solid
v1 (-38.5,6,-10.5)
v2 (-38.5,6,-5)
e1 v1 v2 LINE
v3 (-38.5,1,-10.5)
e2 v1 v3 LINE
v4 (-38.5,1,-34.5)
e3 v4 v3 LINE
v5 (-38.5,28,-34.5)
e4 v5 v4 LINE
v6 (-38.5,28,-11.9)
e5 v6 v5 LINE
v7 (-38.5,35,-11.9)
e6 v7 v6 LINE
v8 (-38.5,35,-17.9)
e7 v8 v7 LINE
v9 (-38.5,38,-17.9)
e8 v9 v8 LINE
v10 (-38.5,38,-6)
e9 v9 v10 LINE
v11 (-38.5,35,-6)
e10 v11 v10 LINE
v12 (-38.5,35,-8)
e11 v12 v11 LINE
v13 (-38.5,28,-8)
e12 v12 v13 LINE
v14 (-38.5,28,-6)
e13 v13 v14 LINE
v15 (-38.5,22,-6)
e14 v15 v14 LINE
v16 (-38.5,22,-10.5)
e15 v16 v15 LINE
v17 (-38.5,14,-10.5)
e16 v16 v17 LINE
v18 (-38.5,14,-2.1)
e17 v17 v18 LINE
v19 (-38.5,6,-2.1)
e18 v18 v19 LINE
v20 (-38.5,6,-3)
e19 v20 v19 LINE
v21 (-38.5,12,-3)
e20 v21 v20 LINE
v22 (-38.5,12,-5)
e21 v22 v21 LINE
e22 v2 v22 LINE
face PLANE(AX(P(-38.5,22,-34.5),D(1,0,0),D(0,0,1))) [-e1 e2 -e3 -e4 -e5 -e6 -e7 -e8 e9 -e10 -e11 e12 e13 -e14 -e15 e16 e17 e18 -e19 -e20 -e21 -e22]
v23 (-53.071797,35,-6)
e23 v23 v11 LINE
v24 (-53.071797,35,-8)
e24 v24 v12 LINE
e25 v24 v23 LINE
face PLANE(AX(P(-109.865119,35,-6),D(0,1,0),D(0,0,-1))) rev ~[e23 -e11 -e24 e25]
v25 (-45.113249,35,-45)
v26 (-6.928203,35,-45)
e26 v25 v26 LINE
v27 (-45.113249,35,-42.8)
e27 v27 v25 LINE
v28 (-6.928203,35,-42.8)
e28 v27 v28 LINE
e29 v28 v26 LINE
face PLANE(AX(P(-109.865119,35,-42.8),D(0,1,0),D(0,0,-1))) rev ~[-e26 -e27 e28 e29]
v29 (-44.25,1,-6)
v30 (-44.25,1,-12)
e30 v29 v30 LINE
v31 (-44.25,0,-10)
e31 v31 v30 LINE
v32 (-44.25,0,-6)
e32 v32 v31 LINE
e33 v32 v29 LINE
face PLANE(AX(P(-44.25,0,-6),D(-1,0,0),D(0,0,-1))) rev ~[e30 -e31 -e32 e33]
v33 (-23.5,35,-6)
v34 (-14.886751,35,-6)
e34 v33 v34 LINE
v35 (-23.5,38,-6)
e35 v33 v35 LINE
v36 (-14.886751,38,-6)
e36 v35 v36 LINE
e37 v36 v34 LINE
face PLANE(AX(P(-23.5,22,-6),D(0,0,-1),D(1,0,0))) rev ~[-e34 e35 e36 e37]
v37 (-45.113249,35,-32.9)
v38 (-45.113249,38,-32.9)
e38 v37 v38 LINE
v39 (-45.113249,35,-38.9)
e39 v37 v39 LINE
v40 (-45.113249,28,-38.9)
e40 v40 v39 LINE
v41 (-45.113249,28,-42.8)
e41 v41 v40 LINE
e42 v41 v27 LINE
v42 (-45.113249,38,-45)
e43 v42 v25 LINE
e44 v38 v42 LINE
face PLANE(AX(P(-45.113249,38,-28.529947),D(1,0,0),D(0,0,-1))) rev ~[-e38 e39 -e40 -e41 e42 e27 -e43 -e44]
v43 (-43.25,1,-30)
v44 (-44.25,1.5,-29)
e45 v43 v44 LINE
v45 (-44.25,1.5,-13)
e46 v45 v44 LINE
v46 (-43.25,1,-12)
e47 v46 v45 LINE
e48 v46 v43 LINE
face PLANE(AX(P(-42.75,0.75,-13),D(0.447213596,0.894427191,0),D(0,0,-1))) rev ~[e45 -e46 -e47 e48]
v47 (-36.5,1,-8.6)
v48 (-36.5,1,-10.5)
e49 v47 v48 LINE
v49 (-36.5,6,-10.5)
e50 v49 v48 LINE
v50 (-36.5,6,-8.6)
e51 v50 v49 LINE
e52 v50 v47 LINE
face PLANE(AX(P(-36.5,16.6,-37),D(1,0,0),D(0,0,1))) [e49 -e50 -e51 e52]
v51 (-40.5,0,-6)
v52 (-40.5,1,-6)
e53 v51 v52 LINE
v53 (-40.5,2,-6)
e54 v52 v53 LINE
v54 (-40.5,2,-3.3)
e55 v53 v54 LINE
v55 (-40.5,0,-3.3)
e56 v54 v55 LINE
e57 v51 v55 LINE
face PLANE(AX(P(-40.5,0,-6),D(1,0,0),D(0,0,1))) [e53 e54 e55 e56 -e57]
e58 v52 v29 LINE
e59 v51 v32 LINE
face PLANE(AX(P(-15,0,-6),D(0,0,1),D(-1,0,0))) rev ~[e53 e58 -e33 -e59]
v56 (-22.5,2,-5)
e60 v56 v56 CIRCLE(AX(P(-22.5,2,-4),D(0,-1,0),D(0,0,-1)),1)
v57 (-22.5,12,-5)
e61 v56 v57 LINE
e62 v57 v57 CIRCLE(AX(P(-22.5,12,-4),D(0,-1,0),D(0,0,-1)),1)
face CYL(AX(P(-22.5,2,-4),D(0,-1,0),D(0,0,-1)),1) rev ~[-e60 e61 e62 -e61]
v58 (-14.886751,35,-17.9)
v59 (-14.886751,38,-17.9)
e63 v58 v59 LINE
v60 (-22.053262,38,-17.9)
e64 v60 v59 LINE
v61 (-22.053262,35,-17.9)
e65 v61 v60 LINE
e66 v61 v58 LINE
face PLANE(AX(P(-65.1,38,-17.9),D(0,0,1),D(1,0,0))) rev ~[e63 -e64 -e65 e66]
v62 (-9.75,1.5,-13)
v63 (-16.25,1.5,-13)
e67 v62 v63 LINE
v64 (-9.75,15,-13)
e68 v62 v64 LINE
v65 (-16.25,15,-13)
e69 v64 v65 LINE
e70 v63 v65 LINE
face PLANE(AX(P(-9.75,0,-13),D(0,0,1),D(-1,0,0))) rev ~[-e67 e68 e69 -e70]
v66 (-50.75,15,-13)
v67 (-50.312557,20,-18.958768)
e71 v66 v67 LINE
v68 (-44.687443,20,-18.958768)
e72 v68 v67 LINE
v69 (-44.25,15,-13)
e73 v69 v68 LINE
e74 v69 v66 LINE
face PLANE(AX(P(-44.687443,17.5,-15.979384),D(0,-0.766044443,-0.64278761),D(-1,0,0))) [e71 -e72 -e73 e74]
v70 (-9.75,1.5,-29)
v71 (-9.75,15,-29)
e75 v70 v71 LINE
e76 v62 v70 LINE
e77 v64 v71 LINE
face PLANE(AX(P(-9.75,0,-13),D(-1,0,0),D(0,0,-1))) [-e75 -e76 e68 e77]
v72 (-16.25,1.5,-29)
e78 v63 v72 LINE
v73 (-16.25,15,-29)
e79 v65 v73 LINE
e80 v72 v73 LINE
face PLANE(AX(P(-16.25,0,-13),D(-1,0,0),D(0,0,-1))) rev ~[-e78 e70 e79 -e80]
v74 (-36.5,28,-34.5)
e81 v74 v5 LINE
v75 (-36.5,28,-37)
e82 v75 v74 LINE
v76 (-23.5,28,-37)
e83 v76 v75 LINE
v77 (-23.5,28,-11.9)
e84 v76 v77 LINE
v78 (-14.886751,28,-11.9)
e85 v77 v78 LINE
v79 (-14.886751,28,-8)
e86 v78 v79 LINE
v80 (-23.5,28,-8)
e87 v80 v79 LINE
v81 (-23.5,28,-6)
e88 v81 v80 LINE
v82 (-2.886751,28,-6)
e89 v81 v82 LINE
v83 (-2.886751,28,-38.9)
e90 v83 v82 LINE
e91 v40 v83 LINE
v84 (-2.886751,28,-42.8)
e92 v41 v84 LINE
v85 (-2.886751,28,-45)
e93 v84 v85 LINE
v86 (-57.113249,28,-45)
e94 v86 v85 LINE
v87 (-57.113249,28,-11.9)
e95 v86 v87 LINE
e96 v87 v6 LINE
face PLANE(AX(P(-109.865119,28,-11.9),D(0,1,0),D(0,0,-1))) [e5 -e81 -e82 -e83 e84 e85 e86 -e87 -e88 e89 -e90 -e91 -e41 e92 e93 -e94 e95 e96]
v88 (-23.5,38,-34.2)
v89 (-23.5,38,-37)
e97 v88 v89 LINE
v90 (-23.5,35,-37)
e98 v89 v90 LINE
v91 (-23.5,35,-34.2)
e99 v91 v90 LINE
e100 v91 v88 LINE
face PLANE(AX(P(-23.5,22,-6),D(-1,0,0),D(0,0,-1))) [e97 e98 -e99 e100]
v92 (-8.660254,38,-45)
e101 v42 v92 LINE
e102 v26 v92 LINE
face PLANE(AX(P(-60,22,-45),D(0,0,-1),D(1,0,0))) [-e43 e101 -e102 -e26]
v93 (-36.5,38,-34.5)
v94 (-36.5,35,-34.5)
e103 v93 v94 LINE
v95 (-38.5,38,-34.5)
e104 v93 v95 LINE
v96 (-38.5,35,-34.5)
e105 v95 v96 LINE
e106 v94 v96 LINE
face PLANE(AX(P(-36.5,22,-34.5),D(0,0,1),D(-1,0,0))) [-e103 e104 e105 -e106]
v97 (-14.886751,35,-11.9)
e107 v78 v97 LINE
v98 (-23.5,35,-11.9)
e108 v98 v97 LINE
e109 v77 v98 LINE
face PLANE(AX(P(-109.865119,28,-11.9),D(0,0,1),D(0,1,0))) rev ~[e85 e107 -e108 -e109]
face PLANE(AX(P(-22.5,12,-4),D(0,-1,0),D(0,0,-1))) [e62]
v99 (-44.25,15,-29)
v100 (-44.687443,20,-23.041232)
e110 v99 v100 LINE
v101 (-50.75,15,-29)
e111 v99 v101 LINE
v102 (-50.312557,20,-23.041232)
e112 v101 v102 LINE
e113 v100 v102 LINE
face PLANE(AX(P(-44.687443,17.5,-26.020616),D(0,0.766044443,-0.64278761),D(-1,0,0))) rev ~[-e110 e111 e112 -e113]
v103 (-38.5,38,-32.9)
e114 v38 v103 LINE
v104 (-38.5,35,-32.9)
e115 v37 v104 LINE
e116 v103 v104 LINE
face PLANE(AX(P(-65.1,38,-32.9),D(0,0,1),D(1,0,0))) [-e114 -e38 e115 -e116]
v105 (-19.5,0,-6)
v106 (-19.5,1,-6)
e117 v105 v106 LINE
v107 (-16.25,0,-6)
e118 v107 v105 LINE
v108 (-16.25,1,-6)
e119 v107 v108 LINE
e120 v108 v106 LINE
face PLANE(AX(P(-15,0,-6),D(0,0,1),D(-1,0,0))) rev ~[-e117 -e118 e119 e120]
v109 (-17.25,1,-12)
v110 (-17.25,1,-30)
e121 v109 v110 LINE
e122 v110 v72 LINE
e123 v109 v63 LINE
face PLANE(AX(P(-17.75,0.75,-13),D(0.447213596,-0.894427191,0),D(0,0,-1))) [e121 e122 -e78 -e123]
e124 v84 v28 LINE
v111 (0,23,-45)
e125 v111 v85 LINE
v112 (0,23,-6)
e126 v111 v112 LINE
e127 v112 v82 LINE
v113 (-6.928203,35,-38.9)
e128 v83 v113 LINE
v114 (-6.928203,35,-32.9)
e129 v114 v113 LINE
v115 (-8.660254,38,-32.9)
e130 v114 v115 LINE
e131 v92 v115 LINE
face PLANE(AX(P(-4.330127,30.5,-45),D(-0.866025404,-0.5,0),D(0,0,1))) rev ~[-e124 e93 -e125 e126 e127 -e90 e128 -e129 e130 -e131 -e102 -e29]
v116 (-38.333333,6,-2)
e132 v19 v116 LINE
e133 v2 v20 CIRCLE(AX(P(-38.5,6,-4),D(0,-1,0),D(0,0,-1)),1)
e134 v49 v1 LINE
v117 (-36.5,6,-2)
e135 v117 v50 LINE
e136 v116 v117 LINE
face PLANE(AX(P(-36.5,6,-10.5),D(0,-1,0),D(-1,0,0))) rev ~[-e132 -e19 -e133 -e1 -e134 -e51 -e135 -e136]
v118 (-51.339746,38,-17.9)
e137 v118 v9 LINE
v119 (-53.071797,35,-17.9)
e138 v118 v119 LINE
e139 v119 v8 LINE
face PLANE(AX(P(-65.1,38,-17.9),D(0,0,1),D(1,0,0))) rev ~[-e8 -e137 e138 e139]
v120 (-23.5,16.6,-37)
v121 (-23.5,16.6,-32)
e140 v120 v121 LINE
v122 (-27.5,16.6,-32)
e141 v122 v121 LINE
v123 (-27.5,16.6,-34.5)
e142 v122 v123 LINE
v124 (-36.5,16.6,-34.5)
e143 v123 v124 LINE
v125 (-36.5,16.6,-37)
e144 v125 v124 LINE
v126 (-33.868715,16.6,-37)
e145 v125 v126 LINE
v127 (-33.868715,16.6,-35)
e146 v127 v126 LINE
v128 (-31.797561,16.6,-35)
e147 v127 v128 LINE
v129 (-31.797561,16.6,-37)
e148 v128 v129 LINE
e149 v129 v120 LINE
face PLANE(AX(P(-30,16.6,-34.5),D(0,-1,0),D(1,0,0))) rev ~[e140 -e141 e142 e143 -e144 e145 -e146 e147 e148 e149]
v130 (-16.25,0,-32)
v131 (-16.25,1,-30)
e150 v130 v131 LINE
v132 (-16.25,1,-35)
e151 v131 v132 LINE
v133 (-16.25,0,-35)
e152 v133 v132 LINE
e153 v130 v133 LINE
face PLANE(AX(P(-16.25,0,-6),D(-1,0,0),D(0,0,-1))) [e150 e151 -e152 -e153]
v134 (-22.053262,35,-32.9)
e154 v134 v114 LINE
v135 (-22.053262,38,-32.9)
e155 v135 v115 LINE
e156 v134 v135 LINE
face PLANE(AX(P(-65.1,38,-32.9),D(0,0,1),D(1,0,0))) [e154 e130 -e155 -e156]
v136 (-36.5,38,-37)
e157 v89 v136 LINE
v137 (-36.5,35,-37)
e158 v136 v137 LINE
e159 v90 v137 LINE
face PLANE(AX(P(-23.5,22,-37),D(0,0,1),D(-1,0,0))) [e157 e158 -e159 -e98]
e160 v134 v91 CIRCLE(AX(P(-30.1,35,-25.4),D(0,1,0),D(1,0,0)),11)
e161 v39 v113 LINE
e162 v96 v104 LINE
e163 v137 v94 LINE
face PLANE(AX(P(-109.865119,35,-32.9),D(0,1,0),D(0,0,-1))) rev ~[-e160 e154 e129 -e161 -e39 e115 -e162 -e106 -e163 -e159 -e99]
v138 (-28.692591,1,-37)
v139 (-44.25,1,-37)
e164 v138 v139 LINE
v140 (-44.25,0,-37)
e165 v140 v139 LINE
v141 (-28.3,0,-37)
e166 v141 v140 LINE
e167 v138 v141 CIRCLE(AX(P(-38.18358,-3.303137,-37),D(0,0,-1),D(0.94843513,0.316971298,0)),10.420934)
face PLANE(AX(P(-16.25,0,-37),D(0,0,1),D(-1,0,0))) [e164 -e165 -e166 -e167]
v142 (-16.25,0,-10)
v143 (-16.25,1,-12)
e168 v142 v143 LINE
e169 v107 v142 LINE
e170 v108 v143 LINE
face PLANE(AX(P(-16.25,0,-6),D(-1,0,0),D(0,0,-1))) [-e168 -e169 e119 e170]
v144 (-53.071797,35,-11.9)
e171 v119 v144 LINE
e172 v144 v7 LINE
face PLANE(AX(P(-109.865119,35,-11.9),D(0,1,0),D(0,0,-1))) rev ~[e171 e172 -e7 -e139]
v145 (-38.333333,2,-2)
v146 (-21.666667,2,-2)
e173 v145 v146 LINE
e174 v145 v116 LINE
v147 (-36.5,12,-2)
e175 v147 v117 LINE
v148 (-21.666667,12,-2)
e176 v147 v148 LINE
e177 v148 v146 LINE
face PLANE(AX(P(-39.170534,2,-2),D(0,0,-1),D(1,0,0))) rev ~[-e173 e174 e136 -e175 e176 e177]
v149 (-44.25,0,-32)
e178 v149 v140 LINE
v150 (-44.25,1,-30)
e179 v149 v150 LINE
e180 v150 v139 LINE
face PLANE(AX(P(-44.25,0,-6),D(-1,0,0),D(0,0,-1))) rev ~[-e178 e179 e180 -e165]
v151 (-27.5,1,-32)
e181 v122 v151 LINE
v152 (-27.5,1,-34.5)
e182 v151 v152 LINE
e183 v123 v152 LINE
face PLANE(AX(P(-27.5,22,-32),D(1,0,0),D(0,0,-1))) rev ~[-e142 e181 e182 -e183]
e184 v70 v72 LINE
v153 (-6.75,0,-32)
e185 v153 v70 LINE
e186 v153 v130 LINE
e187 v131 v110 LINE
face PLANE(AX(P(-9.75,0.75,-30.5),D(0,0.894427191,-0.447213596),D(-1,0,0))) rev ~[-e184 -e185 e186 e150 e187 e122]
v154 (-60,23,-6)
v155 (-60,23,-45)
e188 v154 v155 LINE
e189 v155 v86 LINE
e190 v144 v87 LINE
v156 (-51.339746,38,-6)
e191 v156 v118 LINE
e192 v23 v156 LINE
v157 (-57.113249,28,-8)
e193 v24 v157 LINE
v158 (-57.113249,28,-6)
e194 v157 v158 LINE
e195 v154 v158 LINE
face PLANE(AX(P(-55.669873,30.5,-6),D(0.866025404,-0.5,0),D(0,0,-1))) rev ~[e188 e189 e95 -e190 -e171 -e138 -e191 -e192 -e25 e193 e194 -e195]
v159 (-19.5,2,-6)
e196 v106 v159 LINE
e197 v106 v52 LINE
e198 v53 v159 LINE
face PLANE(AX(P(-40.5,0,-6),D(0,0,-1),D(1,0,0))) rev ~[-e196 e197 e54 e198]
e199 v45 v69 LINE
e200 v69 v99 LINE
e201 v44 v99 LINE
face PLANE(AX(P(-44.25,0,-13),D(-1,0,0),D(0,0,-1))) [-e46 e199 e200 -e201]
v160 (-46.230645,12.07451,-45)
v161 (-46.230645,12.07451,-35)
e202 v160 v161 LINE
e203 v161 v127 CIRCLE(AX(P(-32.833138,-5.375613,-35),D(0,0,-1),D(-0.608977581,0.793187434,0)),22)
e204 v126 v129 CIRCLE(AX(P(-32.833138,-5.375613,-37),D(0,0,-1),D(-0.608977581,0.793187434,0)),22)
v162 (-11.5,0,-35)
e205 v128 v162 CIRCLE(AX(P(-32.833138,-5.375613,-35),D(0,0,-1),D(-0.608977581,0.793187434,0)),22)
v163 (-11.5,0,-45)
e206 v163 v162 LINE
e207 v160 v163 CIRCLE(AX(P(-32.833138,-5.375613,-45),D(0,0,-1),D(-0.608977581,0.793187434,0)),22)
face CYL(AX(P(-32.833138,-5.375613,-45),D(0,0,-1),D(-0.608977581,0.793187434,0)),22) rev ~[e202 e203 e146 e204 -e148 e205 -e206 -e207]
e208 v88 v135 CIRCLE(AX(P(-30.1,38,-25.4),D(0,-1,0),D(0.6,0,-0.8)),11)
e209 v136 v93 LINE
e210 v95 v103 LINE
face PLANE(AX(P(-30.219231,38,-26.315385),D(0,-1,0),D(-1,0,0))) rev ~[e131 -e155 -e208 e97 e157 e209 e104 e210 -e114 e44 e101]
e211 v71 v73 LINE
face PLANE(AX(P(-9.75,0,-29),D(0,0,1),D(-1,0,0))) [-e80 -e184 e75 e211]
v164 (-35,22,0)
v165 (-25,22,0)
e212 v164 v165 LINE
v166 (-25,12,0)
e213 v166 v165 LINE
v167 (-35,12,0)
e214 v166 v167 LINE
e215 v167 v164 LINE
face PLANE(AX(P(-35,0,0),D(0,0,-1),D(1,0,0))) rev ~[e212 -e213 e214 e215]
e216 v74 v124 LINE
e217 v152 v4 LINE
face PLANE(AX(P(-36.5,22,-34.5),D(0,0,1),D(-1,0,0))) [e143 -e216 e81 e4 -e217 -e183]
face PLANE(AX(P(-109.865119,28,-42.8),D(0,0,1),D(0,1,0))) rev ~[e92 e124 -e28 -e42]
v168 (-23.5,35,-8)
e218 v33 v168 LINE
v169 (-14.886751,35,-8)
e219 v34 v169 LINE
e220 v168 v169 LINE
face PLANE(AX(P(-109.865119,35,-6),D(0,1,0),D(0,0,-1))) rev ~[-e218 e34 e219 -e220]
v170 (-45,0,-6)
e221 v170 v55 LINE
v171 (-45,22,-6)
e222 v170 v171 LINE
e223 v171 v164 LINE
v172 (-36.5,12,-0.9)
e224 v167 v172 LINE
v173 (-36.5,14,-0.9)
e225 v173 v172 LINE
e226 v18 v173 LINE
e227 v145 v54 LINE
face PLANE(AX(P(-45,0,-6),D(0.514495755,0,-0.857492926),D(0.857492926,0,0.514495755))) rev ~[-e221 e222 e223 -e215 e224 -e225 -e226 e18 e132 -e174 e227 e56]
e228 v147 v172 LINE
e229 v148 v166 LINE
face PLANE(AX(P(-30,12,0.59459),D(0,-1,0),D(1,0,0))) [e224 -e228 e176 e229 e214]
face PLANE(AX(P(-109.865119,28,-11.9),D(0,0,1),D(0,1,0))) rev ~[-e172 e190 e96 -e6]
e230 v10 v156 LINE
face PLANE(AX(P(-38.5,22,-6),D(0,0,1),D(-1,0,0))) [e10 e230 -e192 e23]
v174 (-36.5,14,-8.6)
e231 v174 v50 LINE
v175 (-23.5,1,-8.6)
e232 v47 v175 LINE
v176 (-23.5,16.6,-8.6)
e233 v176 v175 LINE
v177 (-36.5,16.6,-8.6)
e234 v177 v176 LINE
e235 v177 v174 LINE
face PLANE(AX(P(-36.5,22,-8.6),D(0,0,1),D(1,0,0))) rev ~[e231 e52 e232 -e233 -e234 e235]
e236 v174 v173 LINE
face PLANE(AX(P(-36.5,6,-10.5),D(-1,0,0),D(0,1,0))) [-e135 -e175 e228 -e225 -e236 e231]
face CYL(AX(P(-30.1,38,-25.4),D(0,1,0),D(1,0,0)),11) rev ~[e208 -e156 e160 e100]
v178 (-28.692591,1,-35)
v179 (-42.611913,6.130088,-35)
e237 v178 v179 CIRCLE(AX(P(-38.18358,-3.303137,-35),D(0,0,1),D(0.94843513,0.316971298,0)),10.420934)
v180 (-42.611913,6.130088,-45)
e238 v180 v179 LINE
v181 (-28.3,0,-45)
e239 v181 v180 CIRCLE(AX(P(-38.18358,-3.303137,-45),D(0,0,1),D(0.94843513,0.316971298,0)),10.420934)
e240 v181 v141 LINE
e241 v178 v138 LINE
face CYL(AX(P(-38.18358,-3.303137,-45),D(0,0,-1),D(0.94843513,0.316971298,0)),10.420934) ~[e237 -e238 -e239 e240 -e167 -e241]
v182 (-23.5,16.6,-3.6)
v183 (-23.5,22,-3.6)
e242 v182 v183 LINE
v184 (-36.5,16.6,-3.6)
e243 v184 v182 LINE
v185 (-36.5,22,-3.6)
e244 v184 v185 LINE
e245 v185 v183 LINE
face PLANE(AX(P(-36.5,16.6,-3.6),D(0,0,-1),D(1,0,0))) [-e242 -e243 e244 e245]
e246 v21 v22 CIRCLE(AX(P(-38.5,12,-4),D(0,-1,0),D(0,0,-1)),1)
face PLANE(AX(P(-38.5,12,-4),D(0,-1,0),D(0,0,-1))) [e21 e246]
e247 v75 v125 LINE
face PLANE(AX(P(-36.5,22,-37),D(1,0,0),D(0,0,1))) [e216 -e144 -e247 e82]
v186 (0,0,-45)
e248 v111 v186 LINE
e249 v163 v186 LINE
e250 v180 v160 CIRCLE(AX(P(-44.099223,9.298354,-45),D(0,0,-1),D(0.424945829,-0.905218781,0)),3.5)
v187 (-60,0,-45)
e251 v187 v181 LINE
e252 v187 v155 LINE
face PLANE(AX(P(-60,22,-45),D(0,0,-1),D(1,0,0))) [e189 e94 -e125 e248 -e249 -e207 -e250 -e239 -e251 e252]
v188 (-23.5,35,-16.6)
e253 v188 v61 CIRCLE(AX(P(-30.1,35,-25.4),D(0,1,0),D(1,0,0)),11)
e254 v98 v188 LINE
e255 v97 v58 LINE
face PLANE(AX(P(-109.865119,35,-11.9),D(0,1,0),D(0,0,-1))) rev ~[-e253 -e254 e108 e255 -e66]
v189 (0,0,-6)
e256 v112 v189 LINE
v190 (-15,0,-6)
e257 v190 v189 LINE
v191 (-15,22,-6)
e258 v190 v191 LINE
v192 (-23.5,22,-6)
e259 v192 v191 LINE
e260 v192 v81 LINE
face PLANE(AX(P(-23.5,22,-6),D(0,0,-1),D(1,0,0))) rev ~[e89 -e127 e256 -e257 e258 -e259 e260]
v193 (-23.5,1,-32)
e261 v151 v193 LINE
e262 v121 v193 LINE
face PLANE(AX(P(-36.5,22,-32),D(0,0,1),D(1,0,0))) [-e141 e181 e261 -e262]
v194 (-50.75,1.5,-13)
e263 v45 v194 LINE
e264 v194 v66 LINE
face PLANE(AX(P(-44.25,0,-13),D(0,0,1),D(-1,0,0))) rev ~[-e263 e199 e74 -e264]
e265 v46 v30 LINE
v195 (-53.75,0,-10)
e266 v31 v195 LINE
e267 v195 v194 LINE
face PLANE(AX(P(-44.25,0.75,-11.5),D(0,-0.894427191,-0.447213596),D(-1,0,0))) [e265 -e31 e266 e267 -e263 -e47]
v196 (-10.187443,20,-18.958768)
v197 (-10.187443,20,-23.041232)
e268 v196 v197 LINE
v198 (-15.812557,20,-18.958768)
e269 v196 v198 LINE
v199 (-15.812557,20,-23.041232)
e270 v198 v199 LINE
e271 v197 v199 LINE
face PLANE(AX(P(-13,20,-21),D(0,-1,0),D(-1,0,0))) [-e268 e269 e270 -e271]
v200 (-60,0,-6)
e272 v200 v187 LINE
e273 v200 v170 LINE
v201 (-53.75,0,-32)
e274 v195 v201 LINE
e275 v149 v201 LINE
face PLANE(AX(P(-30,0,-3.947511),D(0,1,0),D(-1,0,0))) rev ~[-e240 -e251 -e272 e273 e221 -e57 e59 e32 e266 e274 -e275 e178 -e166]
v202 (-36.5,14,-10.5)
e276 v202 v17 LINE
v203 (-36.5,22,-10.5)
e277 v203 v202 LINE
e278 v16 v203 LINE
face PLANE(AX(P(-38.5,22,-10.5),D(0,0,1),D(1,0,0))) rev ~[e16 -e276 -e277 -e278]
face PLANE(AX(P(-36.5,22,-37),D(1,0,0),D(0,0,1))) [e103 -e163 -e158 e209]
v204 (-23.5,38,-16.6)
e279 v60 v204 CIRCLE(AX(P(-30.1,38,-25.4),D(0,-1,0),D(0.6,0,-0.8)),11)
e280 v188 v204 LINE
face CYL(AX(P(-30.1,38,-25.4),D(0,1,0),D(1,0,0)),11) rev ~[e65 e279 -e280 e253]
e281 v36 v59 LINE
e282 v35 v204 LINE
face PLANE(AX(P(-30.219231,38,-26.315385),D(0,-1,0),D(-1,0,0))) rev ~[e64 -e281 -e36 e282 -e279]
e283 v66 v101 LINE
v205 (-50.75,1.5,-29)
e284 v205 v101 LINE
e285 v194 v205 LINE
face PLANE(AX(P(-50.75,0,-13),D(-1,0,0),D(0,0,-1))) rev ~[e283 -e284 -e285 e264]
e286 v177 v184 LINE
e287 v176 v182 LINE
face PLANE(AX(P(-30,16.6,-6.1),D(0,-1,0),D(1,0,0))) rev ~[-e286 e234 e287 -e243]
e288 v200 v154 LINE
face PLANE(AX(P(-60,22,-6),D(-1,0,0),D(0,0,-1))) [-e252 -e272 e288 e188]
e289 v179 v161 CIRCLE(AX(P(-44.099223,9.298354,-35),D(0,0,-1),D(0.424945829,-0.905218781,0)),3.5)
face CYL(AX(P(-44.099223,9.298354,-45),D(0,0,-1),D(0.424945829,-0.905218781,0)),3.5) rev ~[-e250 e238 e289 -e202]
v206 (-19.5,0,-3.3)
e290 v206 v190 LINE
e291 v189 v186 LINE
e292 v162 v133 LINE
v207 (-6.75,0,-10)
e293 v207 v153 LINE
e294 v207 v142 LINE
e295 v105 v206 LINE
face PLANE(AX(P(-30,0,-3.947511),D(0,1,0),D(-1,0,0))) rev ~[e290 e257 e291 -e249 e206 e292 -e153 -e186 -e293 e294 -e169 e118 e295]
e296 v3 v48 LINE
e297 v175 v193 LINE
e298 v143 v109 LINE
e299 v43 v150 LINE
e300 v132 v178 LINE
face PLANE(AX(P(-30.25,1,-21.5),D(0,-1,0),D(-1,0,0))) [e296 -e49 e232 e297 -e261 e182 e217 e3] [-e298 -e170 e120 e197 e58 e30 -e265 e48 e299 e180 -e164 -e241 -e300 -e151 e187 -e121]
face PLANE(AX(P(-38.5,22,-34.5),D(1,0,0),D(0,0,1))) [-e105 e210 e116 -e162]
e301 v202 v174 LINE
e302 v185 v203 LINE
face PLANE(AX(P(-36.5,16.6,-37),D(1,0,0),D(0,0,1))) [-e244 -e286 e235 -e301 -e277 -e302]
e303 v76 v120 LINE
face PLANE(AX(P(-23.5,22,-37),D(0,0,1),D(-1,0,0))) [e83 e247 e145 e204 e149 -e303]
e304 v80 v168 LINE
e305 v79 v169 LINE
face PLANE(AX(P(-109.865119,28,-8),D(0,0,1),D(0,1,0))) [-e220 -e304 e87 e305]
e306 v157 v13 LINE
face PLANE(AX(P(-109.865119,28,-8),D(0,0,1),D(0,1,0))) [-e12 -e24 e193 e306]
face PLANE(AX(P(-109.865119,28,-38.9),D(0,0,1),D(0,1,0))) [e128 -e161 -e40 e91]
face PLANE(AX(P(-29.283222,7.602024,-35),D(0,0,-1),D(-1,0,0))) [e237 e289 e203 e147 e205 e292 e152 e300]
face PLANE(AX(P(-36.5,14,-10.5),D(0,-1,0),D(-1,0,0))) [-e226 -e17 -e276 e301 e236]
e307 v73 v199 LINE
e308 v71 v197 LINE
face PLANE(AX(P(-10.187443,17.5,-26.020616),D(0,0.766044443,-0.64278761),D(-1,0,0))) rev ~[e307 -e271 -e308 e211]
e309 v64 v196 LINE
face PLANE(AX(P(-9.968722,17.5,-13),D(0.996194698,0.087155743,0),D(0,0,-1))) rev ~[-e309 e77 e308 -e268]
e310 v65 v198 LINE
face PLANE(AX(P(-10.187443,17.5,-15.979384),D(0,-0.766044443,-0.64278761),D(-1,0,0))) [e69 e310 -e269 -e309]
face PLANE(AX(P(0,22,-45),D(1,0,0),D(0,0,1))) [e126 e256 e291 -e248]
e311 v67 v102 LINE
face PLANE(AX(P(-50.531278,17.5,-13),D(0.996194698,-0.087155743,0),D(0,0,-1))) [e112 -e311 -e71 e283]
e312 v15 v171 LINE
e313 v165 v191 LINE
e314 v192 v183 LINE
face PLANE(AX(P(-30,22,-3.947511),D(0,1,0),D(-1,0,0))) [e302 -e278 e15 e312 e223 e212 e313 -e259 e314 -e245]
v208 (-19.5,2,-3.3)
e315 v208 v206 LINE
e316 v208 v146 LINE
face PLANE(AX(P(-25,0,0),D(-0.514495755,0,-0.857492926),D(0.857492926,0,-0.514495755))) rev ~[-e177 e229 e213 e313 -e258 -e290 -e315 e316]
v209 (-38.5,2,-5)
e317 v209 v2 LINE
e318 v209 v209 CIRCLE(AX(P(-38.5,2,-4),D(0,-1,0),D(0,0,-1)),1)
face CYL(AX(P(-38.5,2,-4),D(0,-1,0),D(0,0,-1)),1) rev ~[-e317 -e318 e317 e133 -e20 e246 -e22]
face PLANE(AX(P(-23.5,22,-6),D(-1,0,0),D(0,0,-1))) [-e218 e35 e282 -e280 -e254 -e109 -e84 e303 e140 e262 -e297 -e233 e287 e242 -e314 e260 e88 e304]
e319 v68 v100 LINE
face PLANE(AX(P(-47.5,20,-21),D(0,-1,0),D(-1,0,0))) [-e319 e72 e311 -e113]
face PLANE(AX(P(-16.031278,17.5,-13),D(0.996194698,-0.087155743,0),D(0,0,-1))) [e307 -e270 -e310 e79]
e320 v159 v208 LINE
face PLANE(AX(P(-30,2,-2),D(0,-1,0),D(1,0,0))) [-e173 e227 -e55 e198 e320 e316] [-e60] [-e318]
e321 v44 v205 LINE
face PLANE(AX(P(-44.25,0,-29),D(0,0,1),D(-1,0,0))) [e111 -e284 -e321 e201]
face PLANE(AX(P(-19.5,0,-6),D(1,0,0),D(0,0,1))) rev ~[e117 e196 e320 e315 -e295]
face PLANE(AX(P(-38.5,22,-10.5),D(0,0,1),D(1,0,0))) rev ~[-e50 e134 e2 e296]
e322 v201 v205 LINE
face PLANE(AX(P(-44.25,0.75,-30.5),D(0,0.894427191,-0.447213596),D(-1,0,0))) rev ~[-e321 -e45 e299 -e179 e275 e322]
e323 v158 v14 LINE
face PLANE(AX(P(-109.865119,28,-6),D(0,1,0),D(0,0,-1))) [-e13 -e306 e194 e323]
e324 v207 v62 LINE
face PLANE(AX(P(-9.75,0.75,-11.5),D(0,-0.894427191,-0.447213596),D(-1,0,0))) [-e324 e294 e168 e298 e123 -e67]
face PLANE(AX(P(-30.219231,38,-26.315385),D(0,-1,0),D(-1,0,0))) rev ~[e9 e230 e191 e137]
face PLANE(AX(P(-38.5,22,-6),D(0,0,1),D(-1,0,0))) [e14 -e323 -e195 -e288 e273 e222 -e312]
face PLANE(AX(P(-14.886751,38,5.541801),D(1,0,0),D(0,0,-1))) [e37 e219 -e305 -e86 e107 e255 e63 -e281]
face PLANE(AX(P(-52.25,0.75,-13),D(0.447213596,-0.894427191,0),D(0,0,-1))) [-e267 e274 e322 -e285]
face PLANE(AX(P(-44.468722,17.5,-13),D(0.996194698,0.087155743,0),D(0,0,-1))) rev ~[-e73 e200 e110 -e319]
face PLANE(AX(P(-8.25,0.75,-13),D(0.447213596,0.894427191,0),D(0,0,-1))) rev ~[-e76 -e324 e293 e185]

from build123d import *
from OCP.BRepFilletAPI import BRepFilletAPI_MakeChamfer

# Parameters (mm, degrees)
SKETCH1_W                = 60
SKETCH1_H                = 45
BOSS_EXTRUDE1_DEPTH      = 30
SKETCH2_W                = 6.5
SKETCH2_H                = 16
CUT_EXTRUDE1_DEPTH       = 20
CHAMFER1_SIZE            = 5
CHAMFER1_SIZE2           = 0.437443318
CHAMFER2_SIZE            = 5
CHAMFER2_SIZE2           = 5.958767963
CUT_EXTRUDE2_DEPTH       = 10
CHAMFER3_SIZE            = 3
CHAMFER3_SIZE2           = 1.5
CUT_EXTRUDE3_REACH       = 82.777
SKETCH6_W                = 28
SKETCH6_H                = 31
CUT_EXTRUDE4_DEPTH       = 1
BOSS_EXTRUDE2_DEPTH      = 22
CUT_EXTRUDE5_REACH       = 80.16
SKETCH7_W                = 13
SKETCH7_H                = 23.4
CUT_EXTRUDE6_REACH       = 95.485
CUT_EXTRUDE6_START       = -15.6
SKETCH8_W                = 13
SKETCH8_H                = 5
CUT_EXTRUDE7_REACH       = 80.16
BOSS_EXTRUDE3_DEPTH      = 16
CHAMFER6_SIZE            = 15
CHAMFER6_SIZE2           = 8.660254038
SKETCH14_R               = 11
CUT_EXTRUDE8_DEPTH       = 10
SKETCH15_W               = 70
SKETCH15_H               = 15
CUT_EXTRUDE9_DEPTH       = 10
CUT_EXTRUDE10_DEPTH      = 71.3651192
CUT_EXTRUDE10_DEPTH_BACK = 71.3651192
SKETCH16_W               = 6
SKETCH16_H               = 7
SKETCH16_W_2             = 2
CUT_EXTRUDE11_DEPTH      = 71.3651192
CUT_EXTRUDE11_DEPTH_BACK = 71.3651192
SKETCH17_W               = 6
SKETCH17_H               = 7
SKETCH17_W_2             = 2.2
SKETCH18_W               = 21
SKETCH18_H               = 8
CUT_EXTRUDE12_DEPTH      = 2
SKETCH19_R               = 1
SKETCH19_W               = 18.34106835
SKETCH19_H               = 5.189180314
CUT_EXTRUDE13_DEPTH      = 10
CUT_EXTRUDE14_REACH      = 80.957
SKETCH20_W               = 2
SKETCH20_H               = 8
CUT_EXTRUDE15_REACH      = 86.077
SKETCH21_W               = 16.800854114
SKETCH21_H               = 23.16859679
SKETCH21_W_2             = 25.313746617
SKETCH21_H_2             = 27.258932471


with BuildPart() as part:
    # Sketch1 → Boss-Extrude1 (new body)
    with BuildSketch(Plane(origin=(0, 0, 0), x_dir=(1, 0, 0), z_dir=(0, 1, 0))):
        with Locations((-30, 22.5)):
            Rectangle(SKETCH1_W, SKETCH1_H)
    extrude(amount=BOSS_EXTRUDE1_DEPTH)

    # Sketch2 → Cut-Extrude1 (cut)
    with BuildSketch(Plane(origin=(0, 0, 0), x_dir=(-1, 0, 0), z_dir=(0, -1, 0))):
        with Locations((47.5, 21)):
            Rectangle(SKETCH2_W, SKETCH2_H)
        with Locations((13, 21)):
            Rectangle(SKETCH2_W, SKETCH2_H)
    extrude(amount=-CUT_EXTRUDE1_DEPTH, mode=Mode.SUBTRACT)

    # Chamfer1: one chamfer whose edges measure the first distance from different faces: ONE call of the kernel's chamfer builder (chamfer() names one face for all edges)
    chamfer1_edges_1 = [part.edges().sort_by_distance(p)[0] for p in [
        (-50.75, 20, -21),
    ]]
    chamfer1_side_1 = [part.faces().sort_by_distance(p)[0] for p in [
        (-50.75, 10, -21),
    ]]
    chamfer1_edges_2 = [part.edges().sort_by_distance(p)[0] for p in [
        (-44.25, 20, -21),
    ]]
    chamfer1_side_2 = [part.faces().sort_by_distance(p)[0] for p in [
        (-44.25, 10, -21),
    ]]
    chamfer1_edges_3 = [part.edges().sort_by_distance(p)[0] for p in [
        (-16.25, 20, -21),
    ]]
    chamfer1_side_3 = [part.faces().sort_by_distance(p)[0] for p in [
        (-16.25, 10, -21),
    ]]
    chamfer1_edges_4 = [part.edges().sort_by_distance(p)[0] for p in [
        (-9.75, 20, -21),
    ]]
    chamfer1_side_4 = [part.faces().sort_by_distance(p)[0] for p in [
        (-9.75, 10, -21),
    ]]
    chamfer1 = BRepFilletAPI_MakeChamfer(part.part.solid().wrapped)
    for e in chamfer1_edges_1:
        chamfer1.Add(CHAMFER1_SIZE, CHAMFER1_SIZE2, e.wrapped, chamfer1_side_1[0].wrapped)  # the first distance lies on this face
    for e in chamfer1_edges_2:
        chamfer1.Add(CHAMFER1_SIZE, CHAMFER1_SIZE2, e.wrapped, chamfer1_side_2[0].wrapped)  # the first distance lies on this face
    for e in chamfer1_edges_3:
        chamfer1.Add(CHAMFER1_SIZE, CHAMFER1_SIZE2, e.wrapped, chamfer1_side_3[0].wrapped)  # the first distance lies on this face
    for e in chamfer1_edges_4:
        chamfer1.Add(CHAMFER1_SIZE, CHAMFER1_SIZE2, e.wrapped, chamfer1_side_4[0].wrapped)  # the first distance lies on this face
    add(Compound.cast(chamfer1.Shape()), mode=Mode.REPLACE)

    # Chamfer2: one chamfer whose edges measure the first distance from different faces: ONE call of the kernel's chamfer builder (chamfer() names one face for all edges)
    chamfer2_edges_1 = [part.edges().sort_by_distance(p)[0] for p in [
        (-47.5, 20, -29),
    ]]
    chamfer2_side_1 = [part.faces().sort_by_distance(p)[0] for p in [
        (-47.5, 9.857394508, -29),
    ]]
    chamfer2_edges_2 = [part.edges().sort_by_distance(p)[0] for p in [
        (-13, 20, -29),
    ]]
    chamfer2_side_2 = [part.faces().sort_by_distance(p)[0] for p in [
        (-13, 9.857394508, -29),
    ]]
    chamfer2_edges_3 = [part.edges().sort_by_distance(p)[0] for p in [
        (-13, 20, -13),
    ]]
    chamfer2_side_3 = [part.faces().sort_by_distance(p)[0] for p in [
        (-13, 9.857394508, -13),
    ]]
    chamfer2_edges_4 = [part.edges().sort_by_distance(p)[0] for p in [
        (-47.5, 20, -13),
    ]]
    chamfer2_side_4 = [part.faces().sort_by_distance(p)[0] for p in [
        (-47.5, 9.857394508, -13),
    ]]
    chamfer2 = BRepFilletAPI_MakeChamfer(part.part.solid().wrapped)
    for e in chamfer2_edges_1:
        chamfer2.Add(CHAMFER2_SIZE, CHAMFER2_SIZE2, e.wrapped, chamfer2_side_1[0].wrapped)  # the first distance lies on this face
    for e in chamfer2_edges_2:
        chamfer2.Add(CHAMFER2_SIZE, CHAMFER2_SIZE2, e.wrapped, chamfer2_side_2[0].wrapped)  # the first distance lies on this face
    for e in chamfer2_edges_3:
        chamfer2.Add(CHAMFER2_SIZE, CHAMFER2_SIZE2, e.wrapped, chamfer2_side_3[0].wrapped)  # the first distance lies on this face
    for e in chamfer2_edges_4:
        chamfer2.Add(CHAMFER2_SIZE, CHAMFER2_SIZE2, e.wrapped, chamfer2_side_4[0].wrapped)  # the first distance lies on this face
    add(Compound.cast(chamfer2.Shape()), mode=Mode.REPLACE)

    # Sketch4 → Cut-Extrude2 (cut)
    with BuildSketch(Plane(origin=(0, 0, -45), x_dir=(-1, 0, 0), z_dir=(0, 0, -1))):
        with BuildLine():
            Line((11.5, 0), (28.3, 0))
            ThreePointArc((28.3, 0), (34.080602383, 6.276082414), (42.61191296, 6.13008847))
            ThreePointArc((42.61191296, 6.13008847), (47.088831578, 7.478397416), (46.230644896, 12.074510224))
            ThreePointArc((46.230644896, 12.074510224), (25.608734298, 15.404376803), (11.5, 0))
        make_face()
    extrude(amount=-CUT_EXTRUDE2_DEPTH, mode=Mode.SUBTRACT)

    # Chamfer3
    chamfer3_edges = [part.edges().sort_by_distance(p)[0] for p in [
        (-50.75, 0, -21),
        (-47.5, 0, -29),
        (-44.25, 0, -21),
        (-47.5, 0, -13),
        (-16.25, 0, -21),
        (-13, 0, -29),
        (-9.75, 0, -21),
        (-13, 0, -13),
    ]]
    chamfer3_side = [part.faces().sort_by_distance(p)[0] for p in [
        (-30.707745267, 0, -21.36919105),
    ]]
    chamfer(chamfer3_edges, length=CHAMFER3_SIZE, length2=CHAMFER3_SIZE2, reference=chamfer3_side[0])

    # Sketch5 → Cut-Extrude3 (cut, up to next)
    with BuildSketch(Plane.ZY.offset(60), mode=Mode.PRIVATE) as cut_extrude3_sk1:
        Polygon((-45, 30), (0, 30), (0, 0), (-6, 0), (-6, 22), (-45, 22), align=None)
    cut_extrude3_tool1 = extrude(cut_extrude3_sk1.sketch, amount=-CUT_EXTRUDE3_REACH, mode=Mode.PRIVATE) & part.part
    add(cut_extrude3_tool1.solids().sort_by_distance((-60, 29.459167, -22.5))[0], mode=Mode.SUBTRACT)

    # Sketch6 → Cut-Extrude4 (cut)
    with BuildSketch(Plane(origin=(0, 0, 0), x_dir=(-1, 0, 0), z_dir=(0, -1, 0))):
        with Locations((30.25, 21.5)):
            Rectangle(SKETCH6_W, SKETCH6_H)
    extrude(amount=-CUT_EXTRUDE4_DEPTH, mode=Mode.SUBTRACT)

    # Sketch12 → Boss-Extrude2 (add)
    with BuildSketch(Plane.XZ):
        Polygon((-45, -6), (-35, 0), (-25, 0), (-15, -6), align=None)
    extrude(amount=-BOSS_EXTRUDE2_DEPTH)

    # Sketch7 → Cut-Extrude5 (cut, up to next)
    with BuildSketch(Plane(origin=(0, 22, 0), x_dir=(1, 0, 0), z_dir=(0, 1, 0)), mode=Mode.PRIVATE) as cut_extrude5_sk1:
        with Locations((-30, 20.3)):
            Rectangle(SKETCH7_W, SKETCH7_H)
    cut_extrude5_tool1 = extrude(cut_extrude5_sk1.sketch, amount=-CUT_EXTRUDE5_REACH, mode=Mode.PRIVATE) & part.part
    add(cut_extrude5_tool1.solids().sort_by_distance((-30, 22, -20.3))[0], mode=Mode.SUBTRACT)

    # Sketch8 → Cut-Extrude6 (cut, up to next)
    with BuildSketch(Plane.XZ.offset(-1).offset(CUT_EXTRUDE6_START), mode=Mode.PRIVATE) as cut_extrude6_sk1:
        with Locations((-30, -6.1)):
            Rectangle(SKETCH8_W, SKETCH8_H)
    cut_extrude6_tool1 = extrude(cut_extrude6_sk1.sketch, amount=-CUT_EXTRUDE6_REACH, mode=Mode.PRIVATE) & part.part
    # Sketch8 → Cut-Extrude6 (cut, up to next)
    with BuildSketch(Plane.XZ.offset(-1).offset(CUT_EXTRUDE6_START), mode=Mode.PRIVATE) as cut_extrude6_sk2:
        with Locations((-30, -34.5)):
            Rectangle(SKETCH8_W, SKETCH8_H)
    cut_extrude6_tool2 = extrude(cut_extrude6_sk2.sketch, amount=-CUT_EXTRUDE6_REACH, mode=Mode.PRIVATE) & part.part
    add(cut_extrude6_tool1.solids().sort_by_distance((-30, 16.6, -6.1))[0], mode=Mode.SUBTRACT)
    add(cut_extrude6_tool2.solids().sort_by_distance((-30, 16.6, -34.5))[0], mode=Mode.SUBTRACT)

    # Sketch10 → Cut-Extrude7 (cut, up to next)
    with BuildSketch(Plane(origin=(0, 22, 0), x_dir=(1, 0, 0), z_dir=(0, 1, 0)), mode=Mode.PRIVATE) as cut_extrude7_sk1:
        Polygon((-27.5, 32), (-27.5, 34.5), (-38.5, 34.5), (-38.5, 10.5), (-36.5, 10.5), (-36.5, 32), align=None)
    cut_extrude7_tool1 = extrude(cut_extrude7_sk1.sketch, amount=-CUT_EXTRUDE7_REACH, mode=Mode.PRIVATE) & part.part
    add(cut_extrude7_tool1.solids().sort_by_distance((-27.764008, 22, -33.25))[0], mode=Mode.SUBTRACT)

    # Sketch13 → Boss-Extrude3 (add)
    with BuildSketch(Plane(origin=(0, 22, 0), x_dir=(1, 0, 0), z_dir=(0, 1, 0))):
        Polygon((-60, 45), (0, 45), (0, 6), (-15, 6), (-23.5, 6), (-23.5, 37), (-36.5, 37), (-36.5, 34.5), (-38.5, 34.5), (-38.5, 6), (-60, 6), align=None)
    extrude(amount=BOSS_EXTRUDE3_DEPTH)

    # Chamfer6: one chamfer whose edges measure the first distance from different faces: ONE call of the kernel's chamfer builder (chamfer() names one face for all edges)
    chamfer6_edges_1 = [part.edges().sort_by_distance(p)[0] for p in [
        (-60, 38, -25.5),
    ]]
    chamfer6_side_1 = [part.faces().sort_by_distance(p)[0] for p in [
        (-60, 19, -25.5),
    ]]
    chamfer6_edges_2 = [part.edges().sort_by_distance(p)[0] for p in [
        (0, 38, -25.5),
    ]]
    chamfer6_side_2 = [part.faces().sort_by_distance(p)[0] for p in [
        (0, 19, -25.5),
    ]]
    chamfer6 = BRepFilletAPI_MakeChamfer(part.part.solid().wrapped)
    for e in chamfer6_edges_1:
        chamfer6.Add(CHAMFER6_SIZE, CHAMFER6_SIZE2, e.wrapped, chamfer6_side_1[0].wrapped)  # the first distance lies on this face
    for e in chamfer6_edges_2:
        chamfer6.Add(CHAMFER6_SIZE, CHAMFER6_SIZE2, e.wrapped, chamfer6_side_2[0].wrapped)  # the first distance lies on this face
    add(Compound.cast(chamfer6.Shape()), mode=Mode.REPLACE)

    # Sketch14 → Cut-Extrude8 (cut)
    with BuildSketch(Plane(origin=(0, 38, 0), x_dir=(1, 0, 0), z_dir=(0, 1, 0))):
        with Locations((-30.1, 25.4)):
            Circle(SKETCH14_R)
    extrude(amount=-CUT_EXTRUDE8_DEPTH, mode=Mode.SUBTRACT)

    # Sketch15 → Cut-Extrude9 (cut)
    with BuildSketch(Plane(origin=(0, 38, 0), x_dir=(1, 0, 0), z_dir=(0, 1, 0))):
        with Locations((-30.1, 25.4)):
            Rectangle(SKETCH15_W, SKETCH15_H)
    extrude(amount=-CUT_EXTRUDE9_DEPTH, mode=Mode.SUBTRACT)

    # Sketch16 → Cut-Extrude10 (cut, two sides: drawn at the far end of the back side and taken through both)
    with BuildSketch(Plane(origin=(-38.5, 0, 0), x_dir=(0, 0, -1), z_dir=(1, 0, 0)).offset(-CUT_EXTRUDE10_DEPTH_BACK)):
        with Locations((14.9, 31.5)):
            Rectangle(SKETCH16_W, SKETCH16_H)
        with Locations((7, 31.5)):
            Rectangle(SKETCH16_W_2, SKETCH16_H)
    extrude(amount=CUT_EXTRUDE10_DEPTH + CUT_EXTRUDE10_DEPTH_BACK, mode=Mode.SUBTRACT)

    # Sketch17 → Cut-Extrude11 (cut, two sides: drawn at the far end of the back side and taken through both)
    with BuildSketch(Plane(origin=(-38.5, 0, 0), x_dir=(0, 0, -1), z_dir=(1, 0, 0)).offset(-CUT_EXTRUDE11_DEPTH_BACK)):
        with Locations((35.9, 31.5)):
            Rectangle(SKETCH17_W, SKETCH17_H)
        with Locations((43.9, 31.5)):
            Rectangle(SKETCH17_W_2, SKETCH17_H)
    extrude(amount=CUT_EXTRUDE11_DEPTH + CUT_EXTRUDE11_DEPTH_BACK, mode=Mode.SUBTRACT)

    # Sketch18 → Cut-Extrude12 (cut)
    with BuildSketch(Plane.XZ):
        with Locations((-30, -2)):
            Rectangle(SKETCH18_W, SKETCH18_H)
    extrude(amount=-CUT_EXTRUDE12_DEPTH, mode=Mode.SUBTRACT)

    # Sketch19 → Cut-Extrude13 (cut)
    with BuildSketch(Plane.XZ.offset(-2)):
        with Locations(Location((-38.5, -4, 0), (0, 0, 270))):
            Circle(SKETCH19_R)
        with Locations(Location((-22.5, -4, 0), (0, 0, 270))):
            Circle(SKETCH19_R)
        with Locations((-30, 0.594590157)):
            Rectangle(SKETCH19_W, SKETCH19_H)
    extrude(amount=-CUT_EXTRUDE13_DEPTH, mode=Mode.SUBTRACT)

    # Sketch20 → Cut-Extrude14 (cut, up to next)
    with BuildSketch(Plane(origin=(0, 0, -10.5), x_dir=(-1, 0, 0), z_dir=(0, 0, -1)), mode=Mode.PRIVATE) as cut_extrude14_sk1:
        with Locations((37.5, 10)):
            Rectangle(SKETCH20_W, SKETCH20_H)
    cut_extrude14_tool1 = extrude(cut_extrude14_sk1.sketch, amount=-CUT_EXTRUDE14_REACH, mode=Mode.PRIVATE) & part.part
    add(cut_extrude14_tool1.solids().sort_by_distance((-37.5, 10, -10.5))[0], mode=Mode.SUBTRACT)

    # Cut-Extrude15: up to this face of the body (flat: up to its plane)
    cut_extrude15_end = Plane(part.part.faces().sort_by_distance((-30, 28, -43.9))[0])
    # Sketch21 → Cut-Extrude15 (cut, up to the picked face)
    with BuildSketch(Plane(origin=(0, 38, 0), x_dir=(1, 0, 0), z_dir=(0, 1, 0)), mode=Mode.PRIVATE) as cut_extrude15_sk1:
        with Locations((-53.513675711, 40.114245734)):
            Rectangle(SKETCH21_W, SKETCH21_H)
    cut_extrude15_tool1 = split(extrude(cut_extrude15_sk1.sketch, amount=-CUT_EXTRUDE15_REACH, mode=Mode.PRIVATE), bisect_by=cut_extrude15_end, keep=Keep.BOTH, mode=Mode.PRIVATE)
    # Sketch21 → Cut-Extrude15 (cut, up to the picked face)
    with BuildSketch(Plane(origin=(0, 38, 0), x_dir=(1, 0, 0), z_dir=(0, 1, 0)), mode=Mode.PRIVATE) as cut_extrude15_sk2:
        with Locations((-2.229878037, 8.087664752)):
            Rectangle(SKETCH21_W_2, SKETCH21_H_2)
    cut_extrude15_tool2 = split(extrude(cut_extrude15_sk2.sketch, amount=-CUT_EXTRUDE15_REACH, mode=Mode.PRIVATE), bisect_by=cut_extrude15_end, keep=Keep.BOTH, mode=Mode.PRIVATE)
    add(cut_extrude15_tool1.solids().sort_by(Axis((-53.513676, 38, -40.114246), (0, -1, 0)))[0], mode=Mode.SUBTRACT)
    add(cut_extrude15_tool2.solids().sort_by(Axis((-2.229878, 38, -8.087665), (0, -1, 0)))[0], mode=Mode.SUBTRACT)


solid = part.part
